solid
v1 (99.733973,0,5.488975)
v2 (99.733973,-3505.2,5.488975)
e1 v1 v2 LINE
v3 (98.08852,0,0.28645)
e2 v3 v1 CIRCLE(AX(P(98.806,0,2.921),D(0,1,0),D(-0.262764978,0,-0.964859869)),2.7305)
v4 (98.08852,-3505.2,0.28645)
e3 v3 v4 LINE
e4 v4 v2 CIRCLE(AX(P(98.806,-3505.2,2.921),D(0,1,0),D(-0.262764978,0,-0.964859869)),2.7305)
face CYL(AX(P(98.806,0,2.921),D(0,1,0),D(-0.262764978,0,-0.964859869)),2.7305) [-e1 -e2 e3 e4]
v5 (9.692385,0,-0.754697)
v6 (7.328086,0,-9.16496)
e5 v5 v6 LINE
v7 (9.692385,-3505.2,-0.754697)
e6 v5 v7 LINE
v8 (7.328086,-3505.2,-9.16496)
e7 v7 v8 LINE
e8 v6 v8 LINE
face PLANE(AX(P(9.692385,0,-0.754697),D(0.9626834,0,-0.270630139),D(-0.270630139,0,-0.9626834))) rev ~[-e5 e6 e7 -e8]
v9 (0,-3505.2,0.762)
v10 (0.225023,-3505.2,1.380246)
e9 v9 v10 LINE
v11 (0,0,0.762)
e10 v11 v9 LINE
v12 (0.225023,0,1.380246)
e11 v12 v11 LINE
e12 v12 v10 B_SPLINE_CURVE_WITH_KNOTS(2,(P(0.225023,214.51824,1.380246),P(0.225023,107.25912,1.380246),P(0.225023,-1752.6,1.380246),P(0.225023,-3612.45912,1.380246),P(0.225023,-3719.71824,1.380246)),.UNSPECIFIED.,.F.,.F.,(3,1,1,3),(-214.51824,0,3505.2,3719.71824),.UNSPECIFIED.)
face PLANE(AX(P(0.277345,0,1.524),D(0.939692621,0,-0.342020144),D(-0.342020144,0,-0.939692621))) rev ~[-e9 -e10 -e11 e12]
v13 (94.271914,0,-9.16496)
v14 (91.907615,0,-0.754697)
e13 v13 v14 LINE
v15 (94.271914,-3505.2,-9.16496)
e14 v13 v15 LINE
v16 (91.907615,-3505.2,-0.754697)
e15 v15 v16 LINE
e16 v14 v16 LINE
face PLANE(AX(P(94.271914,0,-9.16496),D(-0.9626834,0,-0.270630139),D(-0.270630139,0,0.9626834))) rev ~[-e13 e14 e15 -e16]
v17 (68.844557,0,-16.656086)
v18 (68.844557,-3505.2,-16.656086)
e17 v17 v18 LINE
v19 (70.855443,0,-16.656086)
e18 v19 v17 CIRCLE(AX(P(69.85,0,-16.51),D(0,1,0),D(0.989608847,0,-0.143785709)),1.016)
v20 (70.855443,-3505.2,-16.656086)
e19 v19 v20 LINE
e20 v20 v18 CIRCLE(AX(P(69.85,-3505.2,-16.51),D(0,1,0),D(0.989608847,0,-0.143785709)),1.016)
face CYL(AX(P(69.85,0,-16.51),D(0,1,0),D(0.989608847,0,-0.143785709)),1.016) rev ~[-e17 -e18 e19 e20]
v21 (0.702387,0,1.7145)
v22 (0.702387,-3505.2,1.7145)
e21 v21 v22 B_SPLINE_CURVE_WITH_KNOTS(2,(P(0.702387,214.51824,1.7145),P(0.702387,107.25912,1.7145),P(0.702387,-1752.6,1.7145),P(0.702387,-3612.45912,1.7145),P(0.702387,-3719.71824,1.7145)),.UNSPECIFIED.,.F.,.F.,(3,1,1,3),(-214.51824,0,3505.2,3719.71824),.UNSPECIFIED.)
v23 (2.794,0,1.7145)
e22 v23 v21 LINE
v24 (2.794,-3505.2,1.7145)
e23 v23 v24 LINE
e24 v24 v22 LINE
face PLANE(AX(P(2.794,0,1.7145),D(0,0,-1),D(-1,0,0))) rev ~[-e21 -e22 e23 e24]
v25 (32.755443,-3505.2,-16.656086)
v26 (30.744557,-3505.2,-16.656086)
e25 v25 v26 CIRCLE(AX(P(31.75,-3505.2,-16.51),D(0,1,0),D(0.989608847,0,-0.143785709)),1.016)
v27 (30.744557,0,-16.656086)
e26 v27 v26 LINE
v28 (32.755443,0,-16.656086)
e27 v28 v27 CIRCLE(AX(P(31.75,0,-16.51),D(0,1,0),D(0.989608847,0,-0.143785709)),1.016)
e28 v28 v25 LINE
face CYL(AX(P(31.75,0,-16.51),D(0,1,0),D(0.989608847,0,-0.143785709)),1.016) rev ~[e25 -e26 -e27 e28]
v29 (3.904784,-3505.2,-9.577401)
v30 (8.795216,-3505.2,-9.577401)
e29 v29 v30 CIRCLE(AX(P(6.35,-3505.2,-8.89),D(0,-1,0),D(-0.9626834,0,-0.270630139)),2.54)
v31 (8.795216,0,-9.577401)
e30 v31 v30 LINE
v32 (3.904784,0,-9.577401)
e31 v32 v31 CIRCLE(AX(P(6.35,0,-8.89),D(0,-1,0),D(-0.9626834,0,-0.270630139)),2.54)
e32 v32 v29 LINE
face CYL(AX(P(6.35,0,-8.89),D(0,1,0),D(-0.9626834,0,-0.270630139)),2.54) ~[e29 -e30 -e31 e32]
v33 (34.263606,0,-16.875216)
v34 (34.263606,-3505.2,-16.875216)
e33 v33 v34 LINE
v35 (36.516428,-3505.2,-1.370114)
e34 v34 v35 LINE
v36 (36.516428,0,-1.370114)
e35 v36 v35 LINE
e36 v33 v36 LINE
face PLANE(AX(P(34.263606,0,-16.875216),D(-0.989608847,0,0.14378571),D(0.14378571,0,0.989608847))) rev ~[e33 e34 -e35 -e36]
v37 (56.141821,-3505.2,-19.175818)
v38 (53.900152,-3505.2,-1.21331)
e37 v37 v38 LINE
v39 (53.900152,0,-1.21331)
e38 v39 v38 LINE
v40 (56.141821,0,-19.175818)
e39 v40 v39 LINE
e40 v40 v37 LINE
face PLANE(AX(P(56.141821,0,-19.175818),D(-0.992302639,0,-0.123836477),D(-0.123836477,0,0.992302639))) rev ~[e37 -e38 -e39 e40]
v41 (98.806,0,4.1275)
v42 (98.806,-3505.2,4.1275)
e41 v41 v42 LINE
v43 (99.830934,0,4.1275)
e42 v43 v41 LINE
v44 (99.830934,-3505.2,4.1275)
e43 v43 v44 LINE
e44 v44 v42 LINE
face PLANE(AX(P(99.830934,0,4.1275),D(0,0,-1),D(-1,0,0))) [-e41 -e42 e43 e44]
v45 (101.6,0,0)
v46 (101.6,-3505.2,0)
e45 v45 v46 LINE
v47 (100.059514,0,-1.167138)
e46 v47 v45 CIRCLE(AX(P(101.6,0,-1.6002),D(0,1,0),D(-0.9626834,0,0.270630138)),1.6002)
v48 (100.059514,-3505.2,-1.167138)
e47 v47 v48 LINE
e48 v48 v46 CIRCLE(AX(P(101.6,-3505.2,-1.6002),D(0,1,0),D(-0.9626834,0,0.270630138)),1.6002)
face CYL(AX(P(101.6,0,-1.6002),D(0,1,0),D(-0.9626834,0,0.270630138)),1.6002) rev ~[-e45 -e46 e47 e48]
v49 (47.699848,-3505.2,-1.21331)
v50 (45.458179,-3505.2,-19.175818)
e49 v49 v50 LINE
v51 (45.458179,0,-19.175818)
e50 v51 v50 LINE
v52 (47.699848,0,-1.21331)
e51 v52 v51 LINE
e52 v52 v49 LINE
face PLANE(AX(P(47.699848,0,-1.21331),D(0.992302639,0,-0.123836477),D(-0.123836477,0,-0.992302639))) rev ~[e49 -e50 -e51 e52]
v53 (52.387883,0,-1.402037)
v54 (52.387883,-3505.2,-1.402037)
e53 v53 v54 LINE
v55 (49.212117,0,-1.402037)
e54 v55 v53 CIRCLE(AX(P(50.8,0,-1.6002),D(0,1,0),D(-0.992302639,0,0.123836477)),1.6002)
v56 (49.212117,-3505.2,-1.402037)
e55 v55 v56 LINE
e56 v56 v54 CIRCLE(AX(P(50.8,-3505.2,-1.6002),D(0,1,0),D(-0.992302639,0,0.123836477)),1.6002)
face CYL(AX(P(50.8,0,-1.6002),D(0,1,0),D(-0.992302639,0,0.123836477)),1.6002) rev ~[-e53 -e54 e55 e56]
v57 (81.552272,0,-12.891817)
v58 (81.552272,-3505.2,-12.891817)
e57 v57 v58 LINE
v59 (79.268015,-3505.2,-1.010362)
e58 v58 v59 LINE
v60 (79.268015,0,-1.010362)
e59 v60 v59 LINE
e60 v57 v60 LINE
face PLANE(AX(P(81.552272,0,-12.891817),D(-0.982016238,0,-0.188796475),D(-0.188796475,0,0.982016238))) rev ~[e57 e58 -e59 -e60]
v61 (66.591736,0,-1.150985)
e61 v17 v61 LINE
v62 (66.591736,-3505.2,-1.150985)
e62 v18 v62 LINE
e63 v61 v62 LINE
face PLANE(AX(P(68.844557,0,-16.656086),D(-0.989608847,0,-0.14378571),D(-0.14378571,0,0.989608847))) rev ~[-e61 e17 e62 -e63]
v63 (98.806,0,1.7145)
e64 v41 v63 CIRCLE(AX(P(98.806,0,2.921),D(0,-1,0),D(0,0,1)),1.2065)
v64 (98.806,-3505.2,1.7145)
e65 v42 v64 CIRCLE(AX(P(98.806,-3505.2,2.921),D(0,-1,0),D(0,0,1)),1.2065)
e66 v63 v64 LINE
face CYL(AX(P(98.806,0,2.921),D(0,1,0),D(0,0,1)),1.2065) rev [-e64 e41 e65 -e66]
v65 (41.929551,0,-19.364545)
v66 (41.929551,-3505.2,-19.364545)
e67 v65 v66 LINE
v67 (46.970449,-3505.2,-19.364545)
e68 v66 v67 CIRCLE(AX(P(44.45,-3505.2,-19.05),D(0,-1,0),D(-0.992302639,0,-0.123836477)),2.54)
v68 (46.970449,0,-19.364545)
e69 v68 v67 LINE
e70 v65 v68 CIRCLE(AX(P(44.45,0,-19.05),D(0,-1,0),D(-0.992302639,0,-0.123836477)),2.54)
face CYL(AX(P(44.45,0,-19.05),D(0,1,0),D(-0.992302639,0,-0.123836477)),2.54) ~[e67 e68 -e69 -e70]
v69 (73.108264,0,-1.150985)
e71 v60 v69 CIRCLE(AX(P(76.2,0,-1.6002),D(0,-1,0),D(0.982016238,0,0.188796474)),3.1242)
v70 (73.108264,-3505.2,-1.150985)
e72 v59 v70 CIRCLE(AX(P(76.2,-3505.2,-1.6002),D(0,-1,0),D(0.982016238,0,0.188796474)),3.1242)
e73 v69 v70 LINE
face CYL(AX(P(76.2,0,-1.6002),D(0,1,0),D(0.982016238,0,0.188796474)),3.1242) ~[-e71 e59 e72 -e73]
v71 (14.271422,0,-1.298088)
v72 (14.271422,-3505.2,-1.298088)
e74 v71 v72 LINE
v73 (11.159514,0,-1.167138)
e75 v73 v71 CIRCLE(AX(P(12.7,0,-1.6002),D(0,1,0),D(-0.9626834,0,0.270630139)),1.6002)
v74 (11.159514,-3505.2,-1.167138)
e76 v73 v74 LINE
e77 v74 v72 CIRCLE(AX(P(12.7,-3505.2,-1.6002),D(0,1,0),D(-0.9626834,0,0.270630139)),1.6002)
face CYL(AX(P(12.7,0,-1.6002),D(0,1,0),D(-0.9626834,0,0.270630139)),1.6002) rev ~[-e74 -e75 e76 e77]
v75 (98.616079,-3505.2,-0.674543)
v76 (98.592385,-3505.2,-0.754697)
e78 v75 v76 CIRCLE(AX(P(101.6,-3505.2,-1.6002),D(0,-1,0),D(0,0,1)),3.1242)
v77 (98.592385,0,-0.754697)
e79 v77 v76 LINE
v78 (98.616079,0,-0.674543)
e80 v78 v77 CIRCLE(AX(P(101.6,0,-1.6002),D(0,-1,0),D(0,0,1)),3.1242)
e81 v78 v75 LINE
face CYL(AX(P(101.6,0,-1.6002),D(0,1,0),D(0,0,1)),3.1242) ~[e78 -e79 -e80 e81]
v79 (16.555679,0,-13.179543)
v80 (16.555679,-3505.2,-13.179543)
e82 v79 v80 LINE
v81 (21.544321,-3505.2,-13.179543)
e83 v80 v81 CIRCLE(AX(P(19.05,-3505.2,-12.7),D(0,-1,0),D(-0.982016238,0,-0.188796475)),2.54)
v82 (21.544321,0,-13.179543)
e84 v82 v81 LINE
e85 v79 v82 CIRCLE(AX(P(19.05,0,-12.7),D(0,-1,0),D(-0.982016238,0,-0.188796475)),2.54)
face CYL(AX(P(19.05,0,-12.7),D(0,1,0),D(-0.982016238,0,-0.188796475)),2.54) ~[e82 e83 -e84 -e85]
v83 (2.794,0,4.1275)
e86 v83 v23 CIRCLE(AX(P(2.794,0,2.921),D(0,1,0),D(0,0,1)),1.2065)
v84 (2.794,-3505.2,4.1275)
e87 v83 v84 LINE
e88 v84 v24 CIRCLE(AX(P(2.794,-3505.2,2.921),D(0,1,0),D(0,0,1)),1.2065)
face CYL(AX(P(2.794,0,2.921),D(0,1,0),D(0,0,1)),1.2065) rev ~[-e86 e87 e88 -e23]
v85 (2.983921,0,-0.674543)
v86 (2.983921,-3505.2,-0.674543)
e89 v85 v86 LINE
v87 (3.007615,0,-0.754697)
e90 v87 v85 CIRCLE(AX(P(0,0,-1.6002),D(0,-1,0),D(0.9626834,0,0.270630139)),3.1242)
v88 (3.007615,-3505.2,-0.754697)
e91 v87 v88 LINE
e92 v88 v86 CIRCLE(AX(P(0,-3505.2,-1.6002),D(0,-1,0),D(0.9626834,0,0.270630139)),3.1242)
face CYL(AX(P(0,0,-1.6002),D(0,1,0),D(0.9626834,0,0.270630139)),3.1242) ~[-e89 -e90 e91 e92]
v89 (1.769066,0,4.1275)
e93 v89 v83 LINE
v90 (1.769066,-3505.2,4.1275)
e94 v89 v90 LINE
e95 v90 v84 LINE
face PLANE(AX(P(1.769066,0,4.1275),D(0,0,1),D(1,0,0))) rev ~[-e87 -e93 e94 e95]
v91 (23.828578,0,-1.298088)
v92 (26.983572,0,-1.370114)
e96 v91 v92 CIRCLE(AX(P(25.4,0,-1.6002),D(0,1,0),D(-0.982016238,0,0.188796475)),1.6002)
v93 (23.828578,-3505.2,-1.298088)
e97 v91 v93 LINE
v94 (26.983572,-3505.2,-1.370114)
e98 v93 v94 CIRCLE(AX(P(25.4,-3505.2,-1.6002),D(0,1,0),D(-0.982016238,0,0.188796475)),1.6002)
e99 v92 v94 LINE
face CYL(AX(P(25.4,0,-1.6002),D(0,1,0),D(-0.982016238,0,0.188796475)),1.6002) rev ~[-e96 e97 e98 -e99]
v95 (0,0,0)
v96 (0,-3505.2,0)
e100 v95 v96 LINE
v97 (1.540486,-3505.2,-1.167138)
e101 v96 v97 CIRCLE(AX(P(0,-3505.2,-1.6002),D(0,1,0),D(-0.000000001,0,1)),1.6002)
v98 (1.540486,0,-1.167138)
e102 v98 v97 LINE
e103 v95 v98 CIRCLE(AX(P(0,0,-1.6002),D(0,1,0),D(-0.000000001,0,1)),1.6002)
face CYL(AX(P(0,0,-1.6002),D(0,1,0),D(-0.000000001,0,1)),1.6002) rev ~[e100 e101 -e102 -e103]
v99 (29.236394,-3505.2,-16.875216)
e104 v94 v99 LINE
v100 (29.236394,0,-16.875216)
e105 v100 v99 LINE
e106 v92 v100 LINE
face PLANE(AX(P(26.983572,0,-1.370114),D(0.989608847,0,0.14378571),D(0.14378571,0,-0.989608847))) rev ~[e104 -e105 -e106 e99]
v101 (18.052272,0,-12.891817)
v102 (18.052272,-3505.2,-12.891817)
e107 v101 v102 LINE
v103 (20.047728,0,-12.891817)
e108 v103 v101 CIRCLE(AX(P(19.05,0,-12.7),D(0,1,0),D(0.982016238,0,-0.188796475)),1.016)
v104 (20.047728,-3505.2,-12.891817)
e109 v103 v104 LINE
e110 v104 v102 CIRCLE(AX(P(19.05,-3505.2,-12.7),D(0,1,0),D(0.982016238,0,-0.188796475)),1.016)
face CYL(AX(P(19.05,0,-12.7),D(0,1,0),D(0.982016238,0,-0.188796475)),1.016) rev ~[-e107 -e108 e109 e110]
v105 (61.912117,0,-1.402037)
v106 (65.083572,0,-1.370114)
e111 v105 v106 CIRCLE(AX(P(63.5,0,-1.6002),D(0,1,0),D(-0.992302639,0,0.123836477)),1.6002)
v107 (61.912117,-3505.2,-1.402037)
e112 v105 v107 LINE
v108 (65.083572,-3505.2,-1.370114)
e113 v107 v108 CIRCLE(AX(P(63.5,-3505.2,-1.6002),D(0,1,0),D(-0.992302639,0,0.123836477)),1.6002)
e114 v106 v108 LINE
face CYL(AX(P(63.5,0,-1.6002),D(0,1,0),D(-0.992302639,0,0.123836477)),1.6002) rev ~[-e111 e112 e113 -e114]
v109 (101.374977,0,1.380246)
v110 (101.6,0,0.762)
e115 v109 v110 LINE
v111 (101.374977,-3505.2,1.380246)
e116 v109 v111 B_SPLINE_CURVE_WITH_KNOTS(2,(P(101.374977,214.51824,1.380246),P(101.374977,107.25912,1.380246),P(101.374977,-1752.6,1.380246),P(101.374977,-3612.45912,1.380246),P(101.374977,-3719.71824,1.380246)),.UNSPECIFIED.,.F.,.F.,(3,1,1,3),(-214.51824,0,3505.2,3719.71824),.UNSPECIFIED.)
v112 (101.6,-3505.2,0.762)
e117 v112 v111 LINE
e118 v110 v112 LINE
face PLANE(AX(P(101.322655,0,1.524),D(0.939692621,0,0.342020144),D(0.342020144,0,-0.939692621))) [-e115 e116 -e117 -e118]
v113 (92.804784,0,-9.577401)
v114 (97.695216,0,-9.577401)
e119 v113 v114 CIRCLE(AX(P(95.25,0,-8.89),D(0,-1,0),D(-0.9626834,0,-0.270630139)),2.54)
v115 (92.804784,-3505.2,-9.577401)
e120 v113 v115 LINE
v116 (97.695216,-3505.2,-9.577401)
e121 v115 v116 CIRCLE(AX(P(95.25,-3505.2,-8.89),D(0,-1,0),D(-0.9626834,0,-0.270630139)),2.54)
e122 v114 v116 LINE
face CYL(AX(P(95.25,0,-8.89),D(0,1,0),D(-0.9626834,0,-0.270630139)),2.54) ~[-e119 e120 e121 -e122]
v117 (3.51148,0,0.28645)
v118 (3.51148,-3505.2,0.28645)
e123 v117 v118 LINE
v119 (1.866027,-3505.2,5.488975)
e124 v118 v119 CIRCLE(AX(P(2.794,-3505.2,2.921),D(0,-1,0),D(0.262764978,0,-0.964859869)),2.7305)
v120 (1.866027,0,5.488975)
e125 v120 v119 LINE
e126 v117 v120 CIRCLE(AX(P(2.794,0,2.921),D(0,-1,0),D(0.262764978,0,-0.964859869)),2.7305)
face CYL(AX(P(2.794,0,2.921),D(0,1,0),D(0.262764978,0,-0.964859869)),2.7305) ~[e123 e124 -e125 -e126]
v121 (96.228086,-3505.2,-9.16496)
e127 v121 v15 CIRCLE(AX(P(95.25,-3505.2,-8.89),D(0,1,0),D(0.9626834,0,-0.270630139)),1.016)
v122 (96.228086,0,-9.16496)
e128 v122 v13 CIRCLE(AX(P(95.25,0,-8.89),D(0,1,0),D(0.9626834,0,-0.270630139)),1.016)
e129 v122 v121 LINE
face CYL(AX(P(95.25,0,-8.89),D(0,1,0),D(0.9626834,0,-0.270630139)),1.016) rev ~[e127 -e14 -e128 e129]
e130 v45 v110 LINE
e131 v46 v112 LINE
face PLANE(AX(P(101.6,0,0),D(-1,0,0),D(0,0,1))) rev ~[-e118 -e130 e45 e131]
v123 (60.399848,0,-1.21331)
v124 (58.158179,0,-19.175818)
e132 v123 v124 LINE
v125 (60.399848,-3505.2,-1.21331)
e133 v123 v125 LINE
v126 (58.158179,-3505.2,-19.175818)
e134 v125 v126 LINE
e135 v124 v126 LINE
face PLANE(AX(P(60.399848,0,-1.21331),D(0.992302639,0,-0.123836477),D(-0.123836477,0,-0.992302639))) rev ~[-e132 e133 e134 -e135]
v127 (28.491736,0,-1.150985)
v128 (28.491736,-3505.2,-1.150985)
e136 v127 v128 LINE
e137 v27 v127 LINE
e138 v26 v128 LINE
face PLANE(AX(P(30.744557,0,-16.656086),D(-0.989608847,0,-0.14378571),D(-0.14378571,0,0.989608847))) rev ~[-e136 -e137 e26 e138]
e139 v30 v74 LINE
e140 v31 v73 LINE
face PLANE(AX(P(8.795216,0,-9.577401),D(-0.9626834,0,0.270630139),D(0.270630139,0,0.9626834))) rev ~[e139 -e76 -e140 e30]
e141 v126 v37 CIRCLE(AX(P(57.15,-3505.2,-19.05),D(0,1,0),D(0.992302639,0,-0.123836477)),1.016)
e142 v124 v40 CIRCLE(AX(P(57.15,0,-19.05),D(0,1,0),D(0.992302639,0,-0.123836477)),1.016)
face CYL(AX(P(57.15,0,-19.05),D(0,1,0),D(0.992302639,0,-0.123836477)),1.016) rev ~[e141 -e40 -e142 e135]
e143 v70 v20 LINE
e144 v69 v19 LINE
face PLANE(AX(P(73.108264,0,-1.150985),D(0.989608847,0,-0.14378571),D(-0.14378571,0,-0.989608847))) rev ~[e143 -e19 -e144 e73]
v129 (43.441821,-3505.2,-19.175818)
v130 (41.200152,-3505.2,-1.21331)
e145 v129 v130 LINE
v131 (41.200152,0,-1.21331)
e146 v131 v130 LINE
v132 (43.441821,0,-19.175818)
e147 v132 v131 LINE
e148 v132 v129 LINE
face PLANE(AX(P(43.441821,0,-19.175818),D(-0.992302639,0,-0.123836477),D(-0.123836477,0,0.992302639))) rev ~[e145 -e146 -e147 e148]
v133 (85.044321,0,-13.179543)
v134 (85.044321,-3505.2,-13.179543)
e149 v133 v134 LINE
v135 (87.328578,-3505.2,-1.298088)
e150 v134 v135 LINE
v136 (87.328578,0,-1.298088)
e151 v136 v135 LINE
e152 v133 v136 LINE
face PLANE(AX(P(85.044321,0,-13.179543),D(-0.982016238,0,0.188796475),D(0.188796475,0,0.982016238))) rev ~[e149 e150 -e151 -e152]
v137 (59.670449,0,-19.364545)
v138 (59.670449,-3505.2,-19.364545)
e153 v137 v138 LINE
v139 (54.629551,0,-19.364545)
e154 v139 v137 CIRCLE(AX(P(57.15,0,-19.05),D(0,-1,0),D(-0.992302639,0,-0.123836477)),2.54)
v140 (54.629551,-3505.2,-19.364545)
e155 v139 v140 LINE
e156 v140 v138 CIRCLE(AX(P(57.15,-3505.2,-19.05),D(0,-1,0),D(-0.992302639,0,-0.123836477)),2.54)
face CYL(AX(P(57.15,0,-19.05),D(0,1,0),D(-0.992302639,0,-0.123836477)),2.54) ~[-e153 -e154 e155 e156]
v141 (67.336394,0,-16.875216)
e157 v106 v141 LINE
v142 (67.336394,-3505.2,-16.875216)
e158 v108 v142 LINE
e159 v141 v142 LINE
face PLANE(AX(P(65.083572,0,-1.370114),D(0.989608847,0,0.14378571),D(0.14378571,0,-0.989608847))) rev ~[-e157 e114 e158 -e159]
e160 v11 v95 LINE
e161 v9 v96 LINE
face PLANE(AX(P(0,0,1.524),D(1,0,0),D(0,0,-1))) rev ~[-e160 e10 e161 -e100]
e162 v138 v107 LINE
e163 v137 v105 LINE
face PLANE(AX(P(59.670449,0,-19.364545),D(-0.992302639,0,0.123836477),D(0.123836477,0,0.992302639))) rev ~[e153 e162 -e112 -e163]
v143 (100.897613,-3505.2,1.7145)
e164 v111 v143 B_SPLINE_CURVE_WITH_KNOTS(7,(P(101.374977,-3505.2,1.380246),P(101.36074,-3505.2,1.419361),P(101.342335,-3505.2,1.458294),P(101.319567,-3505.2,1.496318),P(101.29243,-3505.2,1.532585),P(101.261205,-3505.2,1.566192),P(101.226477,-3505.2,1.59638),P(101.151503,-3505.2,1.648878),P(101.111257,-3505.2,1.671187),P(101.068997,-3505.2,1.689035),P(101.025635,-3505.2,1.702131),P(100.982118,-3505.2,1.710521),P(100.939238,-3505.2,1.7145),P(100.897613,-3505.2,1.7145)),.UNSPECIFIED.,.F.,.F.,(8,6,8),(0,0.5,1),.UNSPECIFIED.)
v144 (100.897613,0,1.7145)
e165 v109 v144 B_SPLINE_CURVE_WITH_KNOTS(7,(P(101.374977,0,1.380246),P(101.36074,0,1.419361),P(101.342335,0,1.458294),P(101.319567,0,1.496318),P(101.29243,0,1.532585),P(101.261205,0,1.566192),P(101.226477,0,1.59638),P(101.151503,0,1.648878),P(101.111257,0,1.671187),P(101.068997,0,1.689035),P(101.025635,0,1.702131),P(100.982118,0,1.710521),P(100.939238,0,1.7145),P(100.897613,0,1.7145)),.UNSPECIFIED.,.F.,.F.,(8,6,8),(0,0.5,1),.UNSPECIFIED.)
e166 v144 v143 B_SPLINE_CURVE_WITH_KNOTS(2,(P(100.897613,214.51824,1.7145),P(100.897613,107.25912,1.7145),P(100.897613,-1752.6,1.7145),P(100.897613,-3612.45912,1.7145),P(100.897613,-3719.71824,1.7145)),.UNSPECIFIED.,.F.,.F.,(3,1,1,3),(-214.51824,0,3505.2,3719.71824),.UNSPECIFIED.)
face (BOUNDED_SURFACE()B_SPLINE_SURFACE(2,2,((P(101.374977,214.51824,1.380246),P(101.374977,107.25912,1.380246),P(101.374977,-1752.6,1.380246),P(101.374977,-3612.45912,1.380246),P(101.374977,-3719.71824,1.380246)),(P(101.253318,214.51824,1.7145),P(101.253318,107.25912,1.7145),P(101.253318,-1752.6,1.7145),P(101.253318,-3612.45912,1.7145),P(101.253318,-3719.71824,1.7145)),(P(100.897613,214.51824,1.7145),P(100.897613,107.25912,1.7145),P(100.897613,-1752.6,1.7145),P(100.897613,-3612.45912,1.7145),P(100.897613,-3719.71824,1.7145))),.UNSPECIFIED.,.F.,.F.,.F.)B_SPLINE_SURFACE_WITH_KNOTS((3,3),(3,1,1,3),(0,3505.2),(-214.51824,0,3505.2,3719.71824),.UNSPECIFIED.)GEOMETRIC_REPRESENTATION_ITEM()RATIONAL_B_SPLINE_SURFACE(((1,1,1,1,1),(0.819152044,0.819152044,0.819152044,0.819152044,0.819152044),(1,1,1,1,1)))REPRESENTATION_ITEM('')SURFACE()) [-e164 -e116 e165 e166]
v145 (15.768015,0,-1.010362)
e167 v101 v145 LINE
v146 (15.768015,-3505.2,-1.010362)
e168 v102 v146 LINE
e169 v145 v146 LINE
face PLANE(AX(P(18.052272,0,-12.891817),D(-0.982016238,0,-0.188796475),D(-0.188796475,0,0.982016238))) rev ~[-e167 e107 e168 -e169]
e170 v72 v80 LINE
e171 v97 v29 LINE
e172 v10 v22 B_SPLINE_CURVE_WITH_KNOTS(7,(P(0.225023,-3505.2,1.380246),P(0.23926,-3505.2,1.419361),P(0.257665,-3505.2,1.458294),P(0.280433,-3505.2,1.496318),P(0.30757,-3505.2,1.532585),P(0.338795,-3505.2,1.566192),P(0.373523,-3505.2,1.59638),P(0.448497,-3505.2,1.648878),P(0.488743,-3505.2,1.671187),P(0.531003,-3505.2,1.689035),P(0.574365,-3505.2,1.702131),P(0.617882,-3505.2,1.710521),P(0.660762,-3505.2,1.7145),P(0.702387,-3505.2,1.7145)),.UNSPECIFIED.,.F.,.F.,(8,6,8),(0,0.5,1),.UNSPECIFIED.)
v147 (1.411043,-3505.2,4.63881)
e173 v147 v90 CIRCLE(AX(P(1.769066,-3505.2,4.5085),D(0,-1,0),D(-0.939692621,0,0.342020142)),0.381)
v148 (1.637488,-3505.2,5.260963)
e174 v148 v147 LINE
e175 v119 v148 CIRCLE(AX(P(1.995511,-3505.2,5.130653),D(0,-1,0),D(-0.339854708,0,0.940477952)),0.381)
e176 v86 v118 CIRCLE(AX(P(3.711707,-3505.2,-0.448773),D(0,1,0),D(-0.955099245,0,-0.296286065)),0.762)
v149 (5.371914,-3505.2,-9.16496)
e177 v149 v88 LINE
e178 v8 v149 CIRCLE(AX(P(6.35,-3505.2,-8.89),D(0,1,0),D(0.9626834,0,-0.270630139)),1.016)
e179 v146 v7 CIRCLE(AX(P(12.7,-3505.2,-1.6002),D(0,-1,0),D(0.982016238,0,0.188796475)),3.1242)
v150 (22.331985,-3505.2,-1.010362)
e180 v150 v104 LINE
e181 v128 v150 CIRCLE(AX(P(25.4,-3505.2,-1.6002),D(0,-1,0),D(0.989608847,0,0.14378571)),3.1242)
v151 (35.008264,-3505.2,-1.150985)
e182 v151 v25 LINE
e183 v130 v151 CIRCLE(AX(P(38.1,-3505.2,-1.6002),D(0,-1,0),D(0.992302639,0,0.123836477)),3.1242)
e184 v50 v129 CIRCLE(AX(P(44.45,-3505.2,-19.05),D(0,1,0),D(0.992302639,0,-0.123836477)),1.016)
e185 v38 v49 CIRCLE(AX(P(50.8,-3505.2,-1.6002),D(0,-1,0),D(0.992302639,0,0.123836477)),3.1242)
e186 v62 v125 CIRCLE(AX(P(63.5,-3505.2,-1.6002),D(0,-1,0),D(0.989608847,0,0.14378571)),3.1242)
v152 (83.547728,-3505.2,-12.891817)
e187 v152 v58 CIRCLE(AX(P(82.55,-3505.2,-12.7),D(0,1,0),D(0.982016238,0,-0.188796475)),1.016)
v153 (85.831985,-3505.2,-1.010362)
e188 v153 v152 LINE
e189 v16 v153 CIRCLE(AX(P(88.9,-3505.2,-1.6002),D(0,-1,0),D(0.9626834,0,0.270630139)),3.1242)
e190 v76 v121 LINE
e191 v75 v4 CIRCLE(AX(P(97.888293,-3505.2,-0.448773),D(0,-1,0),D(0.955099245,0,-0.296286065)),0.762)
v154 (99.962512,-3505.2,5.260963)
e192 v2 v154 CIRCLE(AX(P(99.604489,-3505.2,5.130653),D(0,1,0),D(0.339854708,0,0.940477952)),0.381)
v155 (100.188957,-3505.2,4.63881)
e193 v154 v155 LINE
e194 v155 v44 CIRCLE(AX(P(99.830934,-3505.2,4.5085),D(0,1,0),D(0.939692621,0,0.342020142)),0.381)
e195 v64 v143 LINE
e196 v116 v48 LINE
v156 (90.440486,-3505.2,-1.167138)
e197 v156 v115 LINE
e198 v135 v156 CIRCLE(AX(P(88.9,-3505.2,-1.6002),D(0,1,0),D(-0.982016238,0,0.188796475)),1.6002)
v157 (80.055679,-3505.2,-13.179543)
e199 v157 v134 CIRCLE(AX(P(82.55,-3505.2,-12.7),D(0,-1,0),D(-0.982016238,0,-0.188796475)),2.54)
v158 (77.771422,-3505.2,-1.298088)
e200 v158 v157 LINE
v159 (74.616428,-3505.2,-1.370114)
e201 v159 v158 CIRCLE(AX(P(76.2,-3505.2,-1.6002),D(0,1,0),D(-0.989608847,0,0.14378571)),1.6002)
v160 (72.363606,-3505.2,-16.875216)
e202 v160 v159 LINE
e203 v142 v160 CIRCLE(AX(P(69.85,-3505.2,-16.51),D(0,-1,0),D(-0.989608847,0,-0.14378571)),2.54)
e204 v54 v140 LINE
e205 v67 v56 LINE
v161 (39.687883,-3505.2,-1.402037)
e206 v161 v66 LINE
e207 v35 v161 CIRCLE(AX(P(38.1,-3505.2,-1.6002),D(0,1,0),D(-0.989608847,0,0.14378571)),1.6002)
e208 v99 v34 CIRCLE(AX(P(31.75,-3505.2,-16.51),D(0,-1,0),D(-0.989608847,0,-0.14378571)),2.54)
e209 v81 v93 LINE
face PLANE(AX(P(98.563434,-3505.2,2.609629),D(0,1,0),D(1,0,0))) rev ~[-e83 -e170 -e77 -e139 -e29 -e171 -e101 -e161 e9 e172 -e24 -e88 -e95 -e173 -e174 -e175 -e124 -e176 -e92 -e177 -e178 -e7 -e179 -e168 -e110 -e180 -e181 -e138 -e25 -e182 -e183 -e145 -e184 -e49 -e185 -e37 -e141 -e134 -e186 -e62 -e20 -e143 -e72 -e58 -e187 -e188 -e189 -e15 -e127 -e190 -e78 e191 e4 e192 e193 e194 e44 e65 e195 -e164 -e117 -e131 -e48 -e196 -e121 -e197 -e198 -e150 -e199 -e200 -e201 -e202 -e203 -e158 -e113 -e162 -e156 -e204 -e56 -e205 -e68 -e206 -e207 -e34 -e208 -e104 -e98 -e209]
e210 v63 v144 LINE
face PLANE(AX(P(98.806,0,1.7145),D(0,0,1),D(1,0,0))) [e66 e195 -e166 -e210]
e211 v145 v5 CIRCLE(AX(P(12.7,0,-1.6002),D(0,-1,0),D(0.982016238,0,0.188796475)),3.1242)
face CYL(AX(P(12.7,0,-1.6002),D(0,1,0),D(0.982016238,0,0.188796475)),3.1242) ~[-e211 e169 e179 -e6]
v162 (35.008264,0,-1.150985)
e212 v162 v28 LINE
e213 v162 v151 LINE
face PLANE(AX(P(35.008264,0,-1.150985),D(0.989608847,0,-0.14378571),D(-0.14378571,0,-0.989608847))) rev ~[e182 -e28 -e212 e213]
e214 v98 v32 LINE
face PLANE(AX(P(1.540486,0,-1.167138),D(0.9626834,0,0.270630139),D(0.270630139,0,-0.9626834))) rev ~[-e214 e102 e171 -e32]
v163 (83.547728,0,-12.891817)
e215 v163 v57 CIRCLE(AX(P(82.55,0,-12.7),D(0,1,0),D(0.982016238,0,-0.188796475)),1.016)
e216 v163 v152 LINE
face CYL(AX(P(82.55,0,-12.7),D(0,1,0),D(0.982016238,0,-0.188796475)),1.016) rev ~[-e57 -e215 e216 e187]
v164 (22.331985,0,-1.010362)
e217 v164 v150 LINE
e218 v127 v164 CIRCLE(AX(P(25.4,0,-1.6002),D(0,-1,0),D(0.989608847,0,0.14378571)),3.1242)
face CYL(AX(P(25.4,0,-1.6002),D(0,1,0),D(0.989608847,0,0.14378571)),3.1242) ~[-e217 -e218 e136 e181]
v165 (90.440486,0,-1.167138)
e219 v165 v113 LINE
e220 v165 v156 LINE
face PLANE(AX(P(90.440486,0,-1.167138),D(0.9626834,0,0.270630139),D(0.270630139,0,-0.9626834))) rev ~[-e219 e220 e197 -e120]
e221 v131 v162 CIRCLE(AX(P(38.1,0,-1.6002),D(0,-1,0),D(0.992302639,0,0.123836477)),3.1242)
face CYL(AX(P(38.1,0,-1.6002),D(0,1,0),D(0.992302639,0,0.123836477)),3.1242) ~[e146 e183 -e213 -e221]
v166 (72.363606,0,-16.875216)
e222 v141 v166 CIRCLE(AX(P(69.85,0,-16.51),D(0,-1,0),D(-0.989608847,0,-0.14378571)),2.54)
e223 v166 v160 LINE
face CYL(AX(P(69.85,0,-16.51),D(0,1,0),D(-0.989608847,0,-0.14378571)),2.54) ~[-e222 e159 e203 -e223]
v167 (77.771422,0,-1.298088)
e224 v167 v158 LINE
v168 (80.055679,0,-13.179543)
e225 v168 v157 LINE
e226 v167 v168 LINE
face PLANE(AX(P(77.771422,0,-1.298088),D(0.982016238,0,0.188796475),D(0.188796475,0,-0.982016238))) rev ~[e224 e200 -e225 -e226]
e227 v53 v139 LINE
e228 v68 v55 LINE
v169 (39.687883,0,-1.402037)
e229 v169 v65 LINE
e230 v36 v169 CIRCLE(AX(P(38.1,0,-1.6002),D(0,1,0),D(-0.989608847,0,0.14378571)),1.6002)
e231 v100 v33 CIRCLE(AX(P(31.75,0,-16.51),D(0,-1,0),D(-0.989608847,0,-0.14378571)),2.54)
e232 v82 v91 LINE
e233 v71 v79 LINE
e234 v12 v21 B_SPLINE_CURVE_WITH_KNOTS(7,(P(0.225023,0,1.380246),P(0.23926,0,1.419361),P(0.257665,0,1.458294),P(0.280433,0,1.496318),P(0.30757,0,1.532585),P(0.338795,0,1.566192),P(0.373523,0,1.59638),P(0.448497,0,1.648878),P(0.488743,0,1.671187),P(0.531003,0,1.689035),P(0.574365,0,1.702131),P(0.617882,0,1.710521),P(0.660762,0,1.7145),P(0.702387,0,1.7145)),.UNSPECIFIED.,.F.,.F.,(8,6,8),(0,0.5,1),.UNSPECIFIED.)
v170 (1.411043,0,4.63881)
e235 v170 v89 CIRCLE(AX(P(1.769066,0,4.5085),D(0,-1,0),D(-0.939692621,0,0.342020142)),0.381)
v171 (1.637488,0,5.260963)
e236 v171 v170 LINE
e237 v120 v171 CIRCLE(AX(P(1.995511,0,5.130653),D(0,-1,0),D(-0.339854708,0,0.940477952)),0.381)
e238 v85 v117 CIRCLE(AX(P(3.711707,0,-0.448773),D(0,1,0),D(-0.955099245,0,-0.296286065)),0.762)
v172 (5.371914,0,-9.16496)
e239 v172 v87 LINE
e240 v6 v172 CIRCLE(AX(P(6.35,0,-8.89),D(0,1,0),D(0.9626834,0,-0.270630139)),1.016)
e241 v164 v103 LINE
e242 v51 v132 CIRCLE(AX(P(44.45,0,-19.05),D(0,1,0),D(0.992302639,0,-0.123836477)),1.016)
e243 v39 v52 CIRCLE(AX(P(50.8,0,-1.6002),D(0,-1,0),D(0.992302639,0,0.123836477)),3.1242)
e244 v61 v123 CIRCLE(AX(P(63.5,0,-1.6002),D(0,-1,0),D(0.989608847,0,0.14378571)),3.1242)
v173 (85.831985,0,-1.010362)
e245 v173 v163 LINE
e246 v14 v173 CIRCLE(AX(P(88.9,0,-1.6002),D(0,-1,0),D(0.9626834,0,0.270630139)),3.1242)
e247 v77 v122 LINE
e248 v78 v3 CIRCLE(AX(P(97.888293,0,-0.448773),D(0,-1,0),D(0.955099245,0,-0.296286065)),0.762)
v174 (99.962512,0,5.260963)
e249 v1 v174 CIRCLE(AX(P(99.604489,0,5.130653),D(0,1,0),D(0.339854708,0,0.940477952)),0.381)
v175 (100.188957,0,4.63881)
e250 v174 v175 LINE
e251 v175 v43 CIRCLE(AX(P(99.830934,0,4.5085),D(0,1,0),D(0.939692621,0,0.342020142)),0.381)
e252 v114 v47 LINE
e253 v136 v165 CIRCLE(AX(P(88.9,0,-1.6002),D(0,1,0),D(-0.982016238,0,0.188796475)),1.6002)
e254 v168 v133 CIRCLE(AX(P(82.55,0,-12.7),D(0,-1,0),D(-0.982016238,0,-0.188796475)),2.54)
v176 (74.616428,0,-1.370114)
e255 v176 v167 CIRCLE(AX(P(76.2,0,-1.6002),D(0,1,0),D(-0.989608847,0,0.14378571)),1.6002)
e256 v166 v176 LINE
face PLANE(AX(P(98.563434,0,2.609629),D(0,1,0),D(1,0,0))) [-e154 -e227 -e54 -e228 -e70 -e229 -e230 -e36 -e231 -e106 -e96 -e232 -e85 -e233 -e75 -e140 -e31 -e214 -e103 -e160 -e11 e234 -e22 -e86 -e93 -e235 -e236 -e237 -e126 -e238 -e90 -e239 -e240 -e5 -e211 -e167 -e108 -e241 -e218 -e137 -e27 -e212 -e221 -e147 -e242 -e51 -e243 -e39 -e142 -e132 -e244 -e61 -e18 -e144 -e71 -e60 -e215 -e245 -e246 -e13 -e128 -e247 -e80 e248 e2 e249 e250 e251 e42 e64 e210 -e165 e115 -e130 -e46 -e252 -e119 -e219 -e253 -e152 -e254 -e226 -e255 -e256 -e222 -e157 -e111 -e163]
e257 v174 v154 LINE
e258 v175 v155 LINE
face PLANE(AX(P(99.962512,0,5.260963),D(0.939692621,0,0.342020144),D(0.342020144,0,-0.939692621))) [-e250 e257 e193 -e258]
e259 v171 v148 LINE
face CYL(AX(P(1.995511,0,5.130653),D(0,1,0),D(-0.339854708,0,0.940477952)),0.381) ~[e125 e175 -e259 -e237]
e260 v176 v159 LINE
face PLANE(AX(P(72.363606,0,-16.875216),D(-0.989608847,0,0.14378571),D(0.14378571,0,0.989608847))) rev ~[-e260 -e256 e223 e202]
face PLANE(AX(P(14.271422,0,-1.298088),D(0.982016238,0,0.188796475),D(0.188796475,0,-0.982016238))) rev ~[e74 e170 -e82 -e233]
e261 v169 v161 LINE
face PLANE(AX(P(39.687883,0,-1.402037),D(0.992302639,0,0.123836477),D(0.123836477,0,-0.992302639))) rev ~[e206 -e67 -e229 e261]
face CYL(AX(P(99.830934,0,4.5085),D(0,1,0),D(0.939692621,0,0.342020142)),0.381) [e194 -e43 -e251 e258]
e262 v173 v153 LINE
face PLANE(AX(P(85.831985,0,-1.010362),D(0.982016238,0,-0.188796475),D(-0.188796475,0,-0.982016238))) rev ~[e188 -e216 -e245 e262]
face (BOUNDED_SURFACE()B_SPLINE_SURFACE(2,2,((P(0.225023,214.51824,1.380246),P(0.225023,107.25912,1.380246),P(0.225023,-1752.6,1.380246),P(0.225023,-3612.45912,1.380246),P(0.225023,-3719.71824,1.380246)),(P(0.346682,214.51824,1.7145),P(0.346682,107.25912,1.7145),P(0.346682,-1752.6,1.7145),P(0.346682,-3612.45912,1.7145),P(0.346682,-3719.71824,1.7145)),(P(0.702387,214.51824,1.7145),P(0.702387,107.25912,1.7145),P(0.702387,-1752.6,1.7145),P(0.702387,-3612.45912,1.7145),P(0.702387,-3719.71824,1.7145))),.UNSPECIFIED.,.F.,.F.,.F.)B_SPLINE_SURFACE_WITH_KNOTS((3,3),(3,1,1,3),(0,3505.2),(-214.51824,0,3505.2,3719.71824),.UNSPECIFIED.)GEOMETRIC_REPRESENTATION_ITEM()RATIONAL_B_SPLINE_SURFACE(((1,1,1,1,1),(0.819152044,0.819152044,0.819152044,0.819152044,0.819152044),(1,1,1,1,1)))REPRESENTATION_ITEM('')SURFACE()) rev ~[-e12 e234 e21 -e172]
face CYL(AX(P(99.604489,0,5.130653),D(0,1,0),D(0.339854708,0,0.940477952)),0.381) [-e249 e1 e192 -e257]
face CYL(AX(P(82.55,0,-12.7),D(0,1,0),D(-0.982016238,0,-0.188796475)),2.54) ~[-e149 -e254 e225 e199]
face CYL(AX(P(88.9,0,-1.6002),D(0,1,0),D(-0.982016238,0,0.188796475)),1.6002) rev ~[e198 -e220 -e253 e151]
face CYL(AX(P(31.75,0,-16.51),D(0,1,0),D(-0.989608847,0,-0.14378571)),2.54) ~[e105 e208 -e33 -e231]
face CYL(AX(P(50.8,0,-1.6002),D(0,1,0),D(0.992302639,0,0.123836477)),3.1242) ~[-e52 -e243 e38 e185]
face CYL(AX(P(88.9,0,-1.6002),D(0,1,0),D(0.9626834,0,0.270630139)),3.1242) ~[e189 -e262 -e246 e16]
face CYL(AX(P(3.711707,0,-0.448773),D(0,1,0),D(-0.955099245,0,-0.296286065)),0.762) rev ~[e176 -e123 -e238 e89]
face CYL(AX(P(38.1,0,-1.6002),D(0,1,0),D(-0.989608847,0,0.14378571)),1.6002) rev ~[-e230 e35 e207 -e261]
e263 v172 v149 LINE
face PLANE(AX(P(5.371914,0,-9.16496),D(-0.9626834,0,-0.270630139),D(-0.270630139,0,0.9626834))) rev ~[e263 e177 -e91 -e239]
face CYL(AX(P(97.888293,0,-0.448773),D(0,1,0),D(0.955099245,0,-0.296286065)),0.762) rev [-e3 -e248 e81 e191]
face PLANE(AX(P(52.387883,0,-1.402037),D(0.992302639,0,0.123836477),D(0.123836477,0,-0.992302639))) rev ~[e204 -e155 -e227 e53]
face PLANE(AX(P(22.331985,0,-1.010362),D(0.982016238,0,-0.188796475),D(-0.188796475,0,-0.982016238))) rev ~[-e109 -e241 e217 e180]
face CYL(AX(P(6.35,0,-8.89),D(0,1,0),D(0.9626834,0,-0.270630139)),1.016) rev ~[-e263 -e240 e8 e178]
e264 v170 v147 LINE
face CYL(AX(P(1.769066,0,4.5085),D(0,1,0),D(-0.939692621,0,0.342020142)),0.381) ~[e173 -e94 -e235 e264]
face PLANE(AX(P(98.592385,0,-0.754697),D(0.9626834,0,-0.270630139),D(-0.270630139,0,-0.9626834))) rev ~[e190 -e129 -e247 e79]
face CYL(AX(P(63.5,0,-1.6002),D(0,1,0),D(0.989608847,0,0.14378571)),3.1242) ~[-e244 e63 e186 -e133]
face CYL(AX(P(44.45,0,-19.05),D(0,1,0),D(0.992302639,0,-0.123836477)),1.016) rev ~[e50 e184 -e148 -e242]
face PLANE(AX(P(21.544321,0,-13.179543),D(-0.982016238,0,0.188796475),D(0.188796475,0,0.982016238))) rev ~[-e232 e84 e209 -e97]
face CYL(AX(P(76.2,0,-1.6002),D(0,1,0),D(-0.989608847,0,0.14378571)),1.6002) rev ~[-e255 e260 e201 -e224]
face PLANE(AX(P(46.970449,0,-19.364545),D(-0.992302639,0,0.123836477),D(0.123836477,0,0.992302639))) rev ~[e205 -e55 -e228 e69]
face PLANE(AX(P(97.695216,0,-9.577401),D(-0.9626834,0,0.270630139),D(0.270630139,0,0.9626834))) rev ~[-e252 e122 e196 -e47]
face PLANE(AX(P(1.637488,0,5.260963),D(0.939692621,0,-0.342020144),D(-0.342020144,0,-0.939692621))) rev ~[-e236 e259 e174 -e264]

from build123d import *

# Parameters (mm, degrees)
BOSS_EXTRUDE1_DEPTH = 3505.2
CUT_EXTRUDE1_DEPTH  = 3506.2
BOSS_EXTRUDE2_DEPTH = 3505.2
FILLET1_R           = 0.508


with BuildPart() as part:
    # Sketch1 → Boss-Extrude1 (new body)
    with BuildSketch(Plane(origin=(0, 0, 0), x_dir=(1, 0, 0), z_dir=(0, 1, 0))):
        with BuildLine():
            Line((1.540485976, 1.167137652), (3.904784165, 9.577400553))
            ThreePointArc((3.904784165, 9.577400553), (6.35, 11.43), (8.795215835, 9.577400553))
            Line((8.795215835, 9.577400553), (11.159514024, 1.167137652))
            ThreePointArc((11.159514024, 1.167137652), (12.767277455, 0.001414904), (14.271422384, 1.298087881))
            Line((14.271422384, 1.298087881), (16.555678756, 13.179543046))
            ThreePointArc((16.555678756, 13.179543046), (19.05, 15.24), (21.544321244, 13.179543046))
            Line((21.544321244, 13.179543046), (23.828577616, 1.298087881))
            ThreePointArc((23.828577616, 1.298087881), (25.436521885, 0.00041683), (26.983572077, 1.370114107))
            Line((26.983572077, 1.370114107), (29.236393529, 16.875215703))
            ThreePointArc((29.236393529, 16.875215703), (31.75, 19.05), (34.263606471, 16.875215703))
            Line((34.263606471, 16.875215703), (36.516427923, 1.370114107))
            ThreePointArc((36.516427923, 1.370114107), (38.116106242, 8.1058e-05), (39.687882683, 1.40203687))
            Line((39.687882683, 1.40203687), (41.929551297, 19.364544652))
            ThreePointArc((41.929551297, 19.364544652), (44.45, 21.59), (46.970448703, 19.364544652))
            Line((46.970448703, 19.364544652), (49.212117317, 1.40203687))
            ThreePointArc((49.212117317, 1.40203687), (50.8, 0), (52.387882683, 1.40203687))
            Line((52.387882683, 1.40203687), (54.629551297, 19.364544652))
            ThreePointArc((54.629551297, 19.364544652), (57.15, 21.59), (59.670448703, 19.364544652))
            Line((59.670448703, 19.364544652), (61.912117317, 1.40203687))
            ThreePointArc((61.912117317, 1.40203687), (63.483893758, 8.1058e-05), (65.083572077, 1.370114107))
            Line((65.083572077, 1.370114107), (67.336393529, 16.875215703))
            ThreePointArc((67.336393529, 16.875215703), (69.85, 19.05), (72.363606471, 16.875215703))
            Line((72.363606471, 16.875215703), (74.616427923, 1.370114107))
            ThreePointArc((74.616427923, 1.370114107), (76.163478115, 0.00041683), (77.771422384, 1.298087881))
            Line((77.771422384, 1.298087881), (80.055678756, 13.179543046))
            ThreePointArc((80.055678756, 13.179543046), (82.55, 15.24), (85.044321244, 13.179543046))
            Line((85.044321244, 13.179543046), (87.328577616, 1.298087881))
            ThreePointArc((87.328577616, 1.298087881), (88.832722545, 0.001414904), (90.440485976, 1.167137652))
            Line((90.440485976, 1.167137652), (92.804784165, 9.577400553))
            ThreePointArc((92.804784165, 9.577400553), (95.25, 11.43), (97.695215835, 9.577400553))
            Line((97.695215835, 9.577400553), (100.059514024, 1.167137652))
            ThreePointArc((100.059514024, 1.167137652), (100.633652839, 0.324734122), (101.6, 0))
            Line((101.6, 0), (101.6, -1.524))
            ThreePointArc((101.6, -1.524), (99.71332221, -0.889995285), (98.592384523, 0.75469732))
            Line((98.592384523, 0.75469732), (96.228086334, 9.164960221))
            ThreePointArc((96.228086334, 9.164960221), (95.25, 9.906), (94.271913666, 9.164960221))
            Line((94.271913666, 9.164960221), (91.907615477, 0.75469732))
            ThreePointArc((91.907615477, 0.75469732), (88.768648778, -1.521237569), (85.83198487, 1.010362054))
            Line((85.83198487, 1.010362054), (83.547728498, 12.891817218))
            ThreePointArc((83.547728498, 12.891817218), (82.55, 13.716), (81.552271502, 12.891817218))
            Line((81.552271502, 12.891817218), (79.26801513, 1.010362054))
            ThreePointArc((79.26801513, 1.010362054), (76.128695368, -1.52318619), (73.108264041, 1.150984685))
            Line((73.108264041, 1.150984685), (70.855442588, 16.656086281))
            ThreePointArc((70.855442588, 16.656086281), (69.85, 17.526), (68.844557412, 16.656086281))
            Line((68.844557412, 16.656086281), (66.591735959, 1.150984685))
            ThreePointArc((66.591735959, 1.150984685), (63.468554481, -1.523841744), (60.399848096, 1.213310079))
            Line((60.399848096, 1.213310079), (58.158179481, 19.175817861))
            ThreePointArc((58.158179481, 19.175817861), (57.15, 20.066), (56.141820519, 19.175817861))
            Line((56.141820519, 19.175817861), (53.900151904, 1.213310079))
            ThreePointArc((53.900151904, 1.213310079), (50.8, -1.524), (47.699848096, 1.213310079))
            Line((47.699848096, 1.213310079), (45.458179481, 19.175817861))
            ThreePointArc((45.458179481, 19.175817861), (44.45, 20.066), (43.441820519, 19.175817861))
            Line((43.441820519, 19.175817861), (41.200151904, 1.213310079))
            ThreePointArc((41.200151904, 1.213310079), (38.131445519, -1.523841744), (35.008264041, 1.150984685))
            Line((35.008264041, 1.150984685), (32.755442588, 16.656086281))
            ThreePointArc((32.755442588, 16.656086281), (31.75, 17.526), (30.744557412, 16.656086281))
            Line((30.744557412, 16.656086281), (28.491735959, 1.150984685))
            ThreePointArc((28.491735959, 1.150984685), (25.471304632, -1.52318619), (22.33198487, 1.010362054))
            Line((22.33198487, 1.010362054), (20.047728498, 12.891817218))
            ThreePointArc((20.047728498, 12.891817218), (19.05, 13.716), (18.052271502, 12.891817218))
            Line((18.052271502, 12.891817218), (15.76801513, 1.010362054))
            ThreePointArc((15.76801513, 1.010362054), (12.831351222, -1.521237569), (9.692384523, 0.75469732))
            Line((9.692384523, 0.75469732), (7.328086334, 9.164960221))
            ThreePointArc((7.328086334, 9.164960221), (6.35, 9.906), (5.371913666, 9.164960221))
            Line((5.371913666, 9.164960221), (3.007615477, 0.75469732))
            ThreePointArc((3.007615477, 0.75469732), (1.88667779, -0.889995285), (0, -1.524))
            Line((0, -1.524), (0, 0))
            ThreePointArc((0, 0), (0.966347161, 0.324734122), (1.540485976, 1.167137652))
        make_face()
    extrude(amount=-BOSS_EXTRUDE1_DEPTH)

    # Sketch2 → Cut-Extrude1 (cut, through all)
    with BuildSketch(Plane(origin=(0, 0, 0), x_dir=(1, 0, 0), z_dir=(0, 1, 0))):
        Polygon((0, -0.762), (0, -1.524), (0.277345319, -1.524), align=None)
        Polygon((101.6, -0.762), (101.6, -1.524), (101.322654681, -1.524), align=None)
    extrude(amount=-CUT_EXTRUDE1_DEPTH, mode=Mode.SUBTRACT)

    # Sketch3 → Boss-Extrude2 (add, through all)
    with BuildSketch(Plane(origin=(0, 0, 0), x_dir=(1, 0, 0), z_dir=(0, 1, 0))):
        with BuildLine():
            Line((101.253318352, -1.7145), (101.327004192, -1.512049818))
            ThreePointArc((101.327004192, -1.512049818), (99.638578579, -0.831558962), (98.61607894, 0.674543074))
            ThreePointArc((98.61607894, 0.674543074), (98.556259483, 0.082078125), (98.088520228, -0.286450128))
            ThreePointArc((98.088520228, -0.286450128), (96.202609275, -3.74439965), (99.733973274, -5.488975049))
            ThreePointArc((99.733973274, -5.488975049), (99.873585853, -5.400370737), (99.96251152, -5.260962624))
            Line((99.96251152, -5.260962624), (100.188956675, -4.638809675))
            ThreePointArc((100.188956675, -4.638809675), (100.143030715, -4.289967378), (99.830933786, -4.1275))
            Line((99.830933786, -4.1275), (98.806, -4.1275))
            ThreePointArc((98.806, -4.1275), (97.5995, -2.921), (98.806, -1.7145))
            Line((98.806, -1.7145), (101.253318352, -1.7145))
        make_face()
        with BuildLine():
            Line((1.63748848, -5.260962624), (1.411043325, -4.638809675))
            ThreePointArc((1.411043325, -4.638809675), (1.456969285, -4.289967378), (1.769066214, -4.1275))
            Line((1.769066214, -4.1275), (2.794, -4.1275))
            ThreePointArc((2.794, -4.1275), (4.0005, -2.921), (2.794, -1.7145))
            Line((2.794, -1.7145), (0.346681648, -1.7145))
            Line((0.346681648, -1.7145), (0.272995808, -1.512049818))
            ThreePointArc((0.272995808, -1.512049818), (1.961421421, -0.831558962), (2.98392106, 0.674543074))
            ThreePointArc((2.98392106, 0.674543074), (3.043740517, 0.082078125), (3.511479772, -0.286450128))
            ThreePointArc((3.511479772, -0.286450128), (5.397390725, -3.74439965), (1.866026726, -5.488975049))
            ThreePointArc((1.866026726, -5.488975049), (1.726414147, -5.400370737), (1.63748848, -5.260962624))
        make_face()
    extrude(amount=-BOSS_EXTRUDE2_DEPTH)

    # Fillet1
    fillet1_edges = [part.edges().sort_by_distance(p)[0] for p in [
        (0.346681648, -1752.6, 1.7145),
        (101.253318352, -1752.6, 1.7145),
    ]]
    fillet(fillet1_edges, radius=FILLET1_R)


solid = part.part
